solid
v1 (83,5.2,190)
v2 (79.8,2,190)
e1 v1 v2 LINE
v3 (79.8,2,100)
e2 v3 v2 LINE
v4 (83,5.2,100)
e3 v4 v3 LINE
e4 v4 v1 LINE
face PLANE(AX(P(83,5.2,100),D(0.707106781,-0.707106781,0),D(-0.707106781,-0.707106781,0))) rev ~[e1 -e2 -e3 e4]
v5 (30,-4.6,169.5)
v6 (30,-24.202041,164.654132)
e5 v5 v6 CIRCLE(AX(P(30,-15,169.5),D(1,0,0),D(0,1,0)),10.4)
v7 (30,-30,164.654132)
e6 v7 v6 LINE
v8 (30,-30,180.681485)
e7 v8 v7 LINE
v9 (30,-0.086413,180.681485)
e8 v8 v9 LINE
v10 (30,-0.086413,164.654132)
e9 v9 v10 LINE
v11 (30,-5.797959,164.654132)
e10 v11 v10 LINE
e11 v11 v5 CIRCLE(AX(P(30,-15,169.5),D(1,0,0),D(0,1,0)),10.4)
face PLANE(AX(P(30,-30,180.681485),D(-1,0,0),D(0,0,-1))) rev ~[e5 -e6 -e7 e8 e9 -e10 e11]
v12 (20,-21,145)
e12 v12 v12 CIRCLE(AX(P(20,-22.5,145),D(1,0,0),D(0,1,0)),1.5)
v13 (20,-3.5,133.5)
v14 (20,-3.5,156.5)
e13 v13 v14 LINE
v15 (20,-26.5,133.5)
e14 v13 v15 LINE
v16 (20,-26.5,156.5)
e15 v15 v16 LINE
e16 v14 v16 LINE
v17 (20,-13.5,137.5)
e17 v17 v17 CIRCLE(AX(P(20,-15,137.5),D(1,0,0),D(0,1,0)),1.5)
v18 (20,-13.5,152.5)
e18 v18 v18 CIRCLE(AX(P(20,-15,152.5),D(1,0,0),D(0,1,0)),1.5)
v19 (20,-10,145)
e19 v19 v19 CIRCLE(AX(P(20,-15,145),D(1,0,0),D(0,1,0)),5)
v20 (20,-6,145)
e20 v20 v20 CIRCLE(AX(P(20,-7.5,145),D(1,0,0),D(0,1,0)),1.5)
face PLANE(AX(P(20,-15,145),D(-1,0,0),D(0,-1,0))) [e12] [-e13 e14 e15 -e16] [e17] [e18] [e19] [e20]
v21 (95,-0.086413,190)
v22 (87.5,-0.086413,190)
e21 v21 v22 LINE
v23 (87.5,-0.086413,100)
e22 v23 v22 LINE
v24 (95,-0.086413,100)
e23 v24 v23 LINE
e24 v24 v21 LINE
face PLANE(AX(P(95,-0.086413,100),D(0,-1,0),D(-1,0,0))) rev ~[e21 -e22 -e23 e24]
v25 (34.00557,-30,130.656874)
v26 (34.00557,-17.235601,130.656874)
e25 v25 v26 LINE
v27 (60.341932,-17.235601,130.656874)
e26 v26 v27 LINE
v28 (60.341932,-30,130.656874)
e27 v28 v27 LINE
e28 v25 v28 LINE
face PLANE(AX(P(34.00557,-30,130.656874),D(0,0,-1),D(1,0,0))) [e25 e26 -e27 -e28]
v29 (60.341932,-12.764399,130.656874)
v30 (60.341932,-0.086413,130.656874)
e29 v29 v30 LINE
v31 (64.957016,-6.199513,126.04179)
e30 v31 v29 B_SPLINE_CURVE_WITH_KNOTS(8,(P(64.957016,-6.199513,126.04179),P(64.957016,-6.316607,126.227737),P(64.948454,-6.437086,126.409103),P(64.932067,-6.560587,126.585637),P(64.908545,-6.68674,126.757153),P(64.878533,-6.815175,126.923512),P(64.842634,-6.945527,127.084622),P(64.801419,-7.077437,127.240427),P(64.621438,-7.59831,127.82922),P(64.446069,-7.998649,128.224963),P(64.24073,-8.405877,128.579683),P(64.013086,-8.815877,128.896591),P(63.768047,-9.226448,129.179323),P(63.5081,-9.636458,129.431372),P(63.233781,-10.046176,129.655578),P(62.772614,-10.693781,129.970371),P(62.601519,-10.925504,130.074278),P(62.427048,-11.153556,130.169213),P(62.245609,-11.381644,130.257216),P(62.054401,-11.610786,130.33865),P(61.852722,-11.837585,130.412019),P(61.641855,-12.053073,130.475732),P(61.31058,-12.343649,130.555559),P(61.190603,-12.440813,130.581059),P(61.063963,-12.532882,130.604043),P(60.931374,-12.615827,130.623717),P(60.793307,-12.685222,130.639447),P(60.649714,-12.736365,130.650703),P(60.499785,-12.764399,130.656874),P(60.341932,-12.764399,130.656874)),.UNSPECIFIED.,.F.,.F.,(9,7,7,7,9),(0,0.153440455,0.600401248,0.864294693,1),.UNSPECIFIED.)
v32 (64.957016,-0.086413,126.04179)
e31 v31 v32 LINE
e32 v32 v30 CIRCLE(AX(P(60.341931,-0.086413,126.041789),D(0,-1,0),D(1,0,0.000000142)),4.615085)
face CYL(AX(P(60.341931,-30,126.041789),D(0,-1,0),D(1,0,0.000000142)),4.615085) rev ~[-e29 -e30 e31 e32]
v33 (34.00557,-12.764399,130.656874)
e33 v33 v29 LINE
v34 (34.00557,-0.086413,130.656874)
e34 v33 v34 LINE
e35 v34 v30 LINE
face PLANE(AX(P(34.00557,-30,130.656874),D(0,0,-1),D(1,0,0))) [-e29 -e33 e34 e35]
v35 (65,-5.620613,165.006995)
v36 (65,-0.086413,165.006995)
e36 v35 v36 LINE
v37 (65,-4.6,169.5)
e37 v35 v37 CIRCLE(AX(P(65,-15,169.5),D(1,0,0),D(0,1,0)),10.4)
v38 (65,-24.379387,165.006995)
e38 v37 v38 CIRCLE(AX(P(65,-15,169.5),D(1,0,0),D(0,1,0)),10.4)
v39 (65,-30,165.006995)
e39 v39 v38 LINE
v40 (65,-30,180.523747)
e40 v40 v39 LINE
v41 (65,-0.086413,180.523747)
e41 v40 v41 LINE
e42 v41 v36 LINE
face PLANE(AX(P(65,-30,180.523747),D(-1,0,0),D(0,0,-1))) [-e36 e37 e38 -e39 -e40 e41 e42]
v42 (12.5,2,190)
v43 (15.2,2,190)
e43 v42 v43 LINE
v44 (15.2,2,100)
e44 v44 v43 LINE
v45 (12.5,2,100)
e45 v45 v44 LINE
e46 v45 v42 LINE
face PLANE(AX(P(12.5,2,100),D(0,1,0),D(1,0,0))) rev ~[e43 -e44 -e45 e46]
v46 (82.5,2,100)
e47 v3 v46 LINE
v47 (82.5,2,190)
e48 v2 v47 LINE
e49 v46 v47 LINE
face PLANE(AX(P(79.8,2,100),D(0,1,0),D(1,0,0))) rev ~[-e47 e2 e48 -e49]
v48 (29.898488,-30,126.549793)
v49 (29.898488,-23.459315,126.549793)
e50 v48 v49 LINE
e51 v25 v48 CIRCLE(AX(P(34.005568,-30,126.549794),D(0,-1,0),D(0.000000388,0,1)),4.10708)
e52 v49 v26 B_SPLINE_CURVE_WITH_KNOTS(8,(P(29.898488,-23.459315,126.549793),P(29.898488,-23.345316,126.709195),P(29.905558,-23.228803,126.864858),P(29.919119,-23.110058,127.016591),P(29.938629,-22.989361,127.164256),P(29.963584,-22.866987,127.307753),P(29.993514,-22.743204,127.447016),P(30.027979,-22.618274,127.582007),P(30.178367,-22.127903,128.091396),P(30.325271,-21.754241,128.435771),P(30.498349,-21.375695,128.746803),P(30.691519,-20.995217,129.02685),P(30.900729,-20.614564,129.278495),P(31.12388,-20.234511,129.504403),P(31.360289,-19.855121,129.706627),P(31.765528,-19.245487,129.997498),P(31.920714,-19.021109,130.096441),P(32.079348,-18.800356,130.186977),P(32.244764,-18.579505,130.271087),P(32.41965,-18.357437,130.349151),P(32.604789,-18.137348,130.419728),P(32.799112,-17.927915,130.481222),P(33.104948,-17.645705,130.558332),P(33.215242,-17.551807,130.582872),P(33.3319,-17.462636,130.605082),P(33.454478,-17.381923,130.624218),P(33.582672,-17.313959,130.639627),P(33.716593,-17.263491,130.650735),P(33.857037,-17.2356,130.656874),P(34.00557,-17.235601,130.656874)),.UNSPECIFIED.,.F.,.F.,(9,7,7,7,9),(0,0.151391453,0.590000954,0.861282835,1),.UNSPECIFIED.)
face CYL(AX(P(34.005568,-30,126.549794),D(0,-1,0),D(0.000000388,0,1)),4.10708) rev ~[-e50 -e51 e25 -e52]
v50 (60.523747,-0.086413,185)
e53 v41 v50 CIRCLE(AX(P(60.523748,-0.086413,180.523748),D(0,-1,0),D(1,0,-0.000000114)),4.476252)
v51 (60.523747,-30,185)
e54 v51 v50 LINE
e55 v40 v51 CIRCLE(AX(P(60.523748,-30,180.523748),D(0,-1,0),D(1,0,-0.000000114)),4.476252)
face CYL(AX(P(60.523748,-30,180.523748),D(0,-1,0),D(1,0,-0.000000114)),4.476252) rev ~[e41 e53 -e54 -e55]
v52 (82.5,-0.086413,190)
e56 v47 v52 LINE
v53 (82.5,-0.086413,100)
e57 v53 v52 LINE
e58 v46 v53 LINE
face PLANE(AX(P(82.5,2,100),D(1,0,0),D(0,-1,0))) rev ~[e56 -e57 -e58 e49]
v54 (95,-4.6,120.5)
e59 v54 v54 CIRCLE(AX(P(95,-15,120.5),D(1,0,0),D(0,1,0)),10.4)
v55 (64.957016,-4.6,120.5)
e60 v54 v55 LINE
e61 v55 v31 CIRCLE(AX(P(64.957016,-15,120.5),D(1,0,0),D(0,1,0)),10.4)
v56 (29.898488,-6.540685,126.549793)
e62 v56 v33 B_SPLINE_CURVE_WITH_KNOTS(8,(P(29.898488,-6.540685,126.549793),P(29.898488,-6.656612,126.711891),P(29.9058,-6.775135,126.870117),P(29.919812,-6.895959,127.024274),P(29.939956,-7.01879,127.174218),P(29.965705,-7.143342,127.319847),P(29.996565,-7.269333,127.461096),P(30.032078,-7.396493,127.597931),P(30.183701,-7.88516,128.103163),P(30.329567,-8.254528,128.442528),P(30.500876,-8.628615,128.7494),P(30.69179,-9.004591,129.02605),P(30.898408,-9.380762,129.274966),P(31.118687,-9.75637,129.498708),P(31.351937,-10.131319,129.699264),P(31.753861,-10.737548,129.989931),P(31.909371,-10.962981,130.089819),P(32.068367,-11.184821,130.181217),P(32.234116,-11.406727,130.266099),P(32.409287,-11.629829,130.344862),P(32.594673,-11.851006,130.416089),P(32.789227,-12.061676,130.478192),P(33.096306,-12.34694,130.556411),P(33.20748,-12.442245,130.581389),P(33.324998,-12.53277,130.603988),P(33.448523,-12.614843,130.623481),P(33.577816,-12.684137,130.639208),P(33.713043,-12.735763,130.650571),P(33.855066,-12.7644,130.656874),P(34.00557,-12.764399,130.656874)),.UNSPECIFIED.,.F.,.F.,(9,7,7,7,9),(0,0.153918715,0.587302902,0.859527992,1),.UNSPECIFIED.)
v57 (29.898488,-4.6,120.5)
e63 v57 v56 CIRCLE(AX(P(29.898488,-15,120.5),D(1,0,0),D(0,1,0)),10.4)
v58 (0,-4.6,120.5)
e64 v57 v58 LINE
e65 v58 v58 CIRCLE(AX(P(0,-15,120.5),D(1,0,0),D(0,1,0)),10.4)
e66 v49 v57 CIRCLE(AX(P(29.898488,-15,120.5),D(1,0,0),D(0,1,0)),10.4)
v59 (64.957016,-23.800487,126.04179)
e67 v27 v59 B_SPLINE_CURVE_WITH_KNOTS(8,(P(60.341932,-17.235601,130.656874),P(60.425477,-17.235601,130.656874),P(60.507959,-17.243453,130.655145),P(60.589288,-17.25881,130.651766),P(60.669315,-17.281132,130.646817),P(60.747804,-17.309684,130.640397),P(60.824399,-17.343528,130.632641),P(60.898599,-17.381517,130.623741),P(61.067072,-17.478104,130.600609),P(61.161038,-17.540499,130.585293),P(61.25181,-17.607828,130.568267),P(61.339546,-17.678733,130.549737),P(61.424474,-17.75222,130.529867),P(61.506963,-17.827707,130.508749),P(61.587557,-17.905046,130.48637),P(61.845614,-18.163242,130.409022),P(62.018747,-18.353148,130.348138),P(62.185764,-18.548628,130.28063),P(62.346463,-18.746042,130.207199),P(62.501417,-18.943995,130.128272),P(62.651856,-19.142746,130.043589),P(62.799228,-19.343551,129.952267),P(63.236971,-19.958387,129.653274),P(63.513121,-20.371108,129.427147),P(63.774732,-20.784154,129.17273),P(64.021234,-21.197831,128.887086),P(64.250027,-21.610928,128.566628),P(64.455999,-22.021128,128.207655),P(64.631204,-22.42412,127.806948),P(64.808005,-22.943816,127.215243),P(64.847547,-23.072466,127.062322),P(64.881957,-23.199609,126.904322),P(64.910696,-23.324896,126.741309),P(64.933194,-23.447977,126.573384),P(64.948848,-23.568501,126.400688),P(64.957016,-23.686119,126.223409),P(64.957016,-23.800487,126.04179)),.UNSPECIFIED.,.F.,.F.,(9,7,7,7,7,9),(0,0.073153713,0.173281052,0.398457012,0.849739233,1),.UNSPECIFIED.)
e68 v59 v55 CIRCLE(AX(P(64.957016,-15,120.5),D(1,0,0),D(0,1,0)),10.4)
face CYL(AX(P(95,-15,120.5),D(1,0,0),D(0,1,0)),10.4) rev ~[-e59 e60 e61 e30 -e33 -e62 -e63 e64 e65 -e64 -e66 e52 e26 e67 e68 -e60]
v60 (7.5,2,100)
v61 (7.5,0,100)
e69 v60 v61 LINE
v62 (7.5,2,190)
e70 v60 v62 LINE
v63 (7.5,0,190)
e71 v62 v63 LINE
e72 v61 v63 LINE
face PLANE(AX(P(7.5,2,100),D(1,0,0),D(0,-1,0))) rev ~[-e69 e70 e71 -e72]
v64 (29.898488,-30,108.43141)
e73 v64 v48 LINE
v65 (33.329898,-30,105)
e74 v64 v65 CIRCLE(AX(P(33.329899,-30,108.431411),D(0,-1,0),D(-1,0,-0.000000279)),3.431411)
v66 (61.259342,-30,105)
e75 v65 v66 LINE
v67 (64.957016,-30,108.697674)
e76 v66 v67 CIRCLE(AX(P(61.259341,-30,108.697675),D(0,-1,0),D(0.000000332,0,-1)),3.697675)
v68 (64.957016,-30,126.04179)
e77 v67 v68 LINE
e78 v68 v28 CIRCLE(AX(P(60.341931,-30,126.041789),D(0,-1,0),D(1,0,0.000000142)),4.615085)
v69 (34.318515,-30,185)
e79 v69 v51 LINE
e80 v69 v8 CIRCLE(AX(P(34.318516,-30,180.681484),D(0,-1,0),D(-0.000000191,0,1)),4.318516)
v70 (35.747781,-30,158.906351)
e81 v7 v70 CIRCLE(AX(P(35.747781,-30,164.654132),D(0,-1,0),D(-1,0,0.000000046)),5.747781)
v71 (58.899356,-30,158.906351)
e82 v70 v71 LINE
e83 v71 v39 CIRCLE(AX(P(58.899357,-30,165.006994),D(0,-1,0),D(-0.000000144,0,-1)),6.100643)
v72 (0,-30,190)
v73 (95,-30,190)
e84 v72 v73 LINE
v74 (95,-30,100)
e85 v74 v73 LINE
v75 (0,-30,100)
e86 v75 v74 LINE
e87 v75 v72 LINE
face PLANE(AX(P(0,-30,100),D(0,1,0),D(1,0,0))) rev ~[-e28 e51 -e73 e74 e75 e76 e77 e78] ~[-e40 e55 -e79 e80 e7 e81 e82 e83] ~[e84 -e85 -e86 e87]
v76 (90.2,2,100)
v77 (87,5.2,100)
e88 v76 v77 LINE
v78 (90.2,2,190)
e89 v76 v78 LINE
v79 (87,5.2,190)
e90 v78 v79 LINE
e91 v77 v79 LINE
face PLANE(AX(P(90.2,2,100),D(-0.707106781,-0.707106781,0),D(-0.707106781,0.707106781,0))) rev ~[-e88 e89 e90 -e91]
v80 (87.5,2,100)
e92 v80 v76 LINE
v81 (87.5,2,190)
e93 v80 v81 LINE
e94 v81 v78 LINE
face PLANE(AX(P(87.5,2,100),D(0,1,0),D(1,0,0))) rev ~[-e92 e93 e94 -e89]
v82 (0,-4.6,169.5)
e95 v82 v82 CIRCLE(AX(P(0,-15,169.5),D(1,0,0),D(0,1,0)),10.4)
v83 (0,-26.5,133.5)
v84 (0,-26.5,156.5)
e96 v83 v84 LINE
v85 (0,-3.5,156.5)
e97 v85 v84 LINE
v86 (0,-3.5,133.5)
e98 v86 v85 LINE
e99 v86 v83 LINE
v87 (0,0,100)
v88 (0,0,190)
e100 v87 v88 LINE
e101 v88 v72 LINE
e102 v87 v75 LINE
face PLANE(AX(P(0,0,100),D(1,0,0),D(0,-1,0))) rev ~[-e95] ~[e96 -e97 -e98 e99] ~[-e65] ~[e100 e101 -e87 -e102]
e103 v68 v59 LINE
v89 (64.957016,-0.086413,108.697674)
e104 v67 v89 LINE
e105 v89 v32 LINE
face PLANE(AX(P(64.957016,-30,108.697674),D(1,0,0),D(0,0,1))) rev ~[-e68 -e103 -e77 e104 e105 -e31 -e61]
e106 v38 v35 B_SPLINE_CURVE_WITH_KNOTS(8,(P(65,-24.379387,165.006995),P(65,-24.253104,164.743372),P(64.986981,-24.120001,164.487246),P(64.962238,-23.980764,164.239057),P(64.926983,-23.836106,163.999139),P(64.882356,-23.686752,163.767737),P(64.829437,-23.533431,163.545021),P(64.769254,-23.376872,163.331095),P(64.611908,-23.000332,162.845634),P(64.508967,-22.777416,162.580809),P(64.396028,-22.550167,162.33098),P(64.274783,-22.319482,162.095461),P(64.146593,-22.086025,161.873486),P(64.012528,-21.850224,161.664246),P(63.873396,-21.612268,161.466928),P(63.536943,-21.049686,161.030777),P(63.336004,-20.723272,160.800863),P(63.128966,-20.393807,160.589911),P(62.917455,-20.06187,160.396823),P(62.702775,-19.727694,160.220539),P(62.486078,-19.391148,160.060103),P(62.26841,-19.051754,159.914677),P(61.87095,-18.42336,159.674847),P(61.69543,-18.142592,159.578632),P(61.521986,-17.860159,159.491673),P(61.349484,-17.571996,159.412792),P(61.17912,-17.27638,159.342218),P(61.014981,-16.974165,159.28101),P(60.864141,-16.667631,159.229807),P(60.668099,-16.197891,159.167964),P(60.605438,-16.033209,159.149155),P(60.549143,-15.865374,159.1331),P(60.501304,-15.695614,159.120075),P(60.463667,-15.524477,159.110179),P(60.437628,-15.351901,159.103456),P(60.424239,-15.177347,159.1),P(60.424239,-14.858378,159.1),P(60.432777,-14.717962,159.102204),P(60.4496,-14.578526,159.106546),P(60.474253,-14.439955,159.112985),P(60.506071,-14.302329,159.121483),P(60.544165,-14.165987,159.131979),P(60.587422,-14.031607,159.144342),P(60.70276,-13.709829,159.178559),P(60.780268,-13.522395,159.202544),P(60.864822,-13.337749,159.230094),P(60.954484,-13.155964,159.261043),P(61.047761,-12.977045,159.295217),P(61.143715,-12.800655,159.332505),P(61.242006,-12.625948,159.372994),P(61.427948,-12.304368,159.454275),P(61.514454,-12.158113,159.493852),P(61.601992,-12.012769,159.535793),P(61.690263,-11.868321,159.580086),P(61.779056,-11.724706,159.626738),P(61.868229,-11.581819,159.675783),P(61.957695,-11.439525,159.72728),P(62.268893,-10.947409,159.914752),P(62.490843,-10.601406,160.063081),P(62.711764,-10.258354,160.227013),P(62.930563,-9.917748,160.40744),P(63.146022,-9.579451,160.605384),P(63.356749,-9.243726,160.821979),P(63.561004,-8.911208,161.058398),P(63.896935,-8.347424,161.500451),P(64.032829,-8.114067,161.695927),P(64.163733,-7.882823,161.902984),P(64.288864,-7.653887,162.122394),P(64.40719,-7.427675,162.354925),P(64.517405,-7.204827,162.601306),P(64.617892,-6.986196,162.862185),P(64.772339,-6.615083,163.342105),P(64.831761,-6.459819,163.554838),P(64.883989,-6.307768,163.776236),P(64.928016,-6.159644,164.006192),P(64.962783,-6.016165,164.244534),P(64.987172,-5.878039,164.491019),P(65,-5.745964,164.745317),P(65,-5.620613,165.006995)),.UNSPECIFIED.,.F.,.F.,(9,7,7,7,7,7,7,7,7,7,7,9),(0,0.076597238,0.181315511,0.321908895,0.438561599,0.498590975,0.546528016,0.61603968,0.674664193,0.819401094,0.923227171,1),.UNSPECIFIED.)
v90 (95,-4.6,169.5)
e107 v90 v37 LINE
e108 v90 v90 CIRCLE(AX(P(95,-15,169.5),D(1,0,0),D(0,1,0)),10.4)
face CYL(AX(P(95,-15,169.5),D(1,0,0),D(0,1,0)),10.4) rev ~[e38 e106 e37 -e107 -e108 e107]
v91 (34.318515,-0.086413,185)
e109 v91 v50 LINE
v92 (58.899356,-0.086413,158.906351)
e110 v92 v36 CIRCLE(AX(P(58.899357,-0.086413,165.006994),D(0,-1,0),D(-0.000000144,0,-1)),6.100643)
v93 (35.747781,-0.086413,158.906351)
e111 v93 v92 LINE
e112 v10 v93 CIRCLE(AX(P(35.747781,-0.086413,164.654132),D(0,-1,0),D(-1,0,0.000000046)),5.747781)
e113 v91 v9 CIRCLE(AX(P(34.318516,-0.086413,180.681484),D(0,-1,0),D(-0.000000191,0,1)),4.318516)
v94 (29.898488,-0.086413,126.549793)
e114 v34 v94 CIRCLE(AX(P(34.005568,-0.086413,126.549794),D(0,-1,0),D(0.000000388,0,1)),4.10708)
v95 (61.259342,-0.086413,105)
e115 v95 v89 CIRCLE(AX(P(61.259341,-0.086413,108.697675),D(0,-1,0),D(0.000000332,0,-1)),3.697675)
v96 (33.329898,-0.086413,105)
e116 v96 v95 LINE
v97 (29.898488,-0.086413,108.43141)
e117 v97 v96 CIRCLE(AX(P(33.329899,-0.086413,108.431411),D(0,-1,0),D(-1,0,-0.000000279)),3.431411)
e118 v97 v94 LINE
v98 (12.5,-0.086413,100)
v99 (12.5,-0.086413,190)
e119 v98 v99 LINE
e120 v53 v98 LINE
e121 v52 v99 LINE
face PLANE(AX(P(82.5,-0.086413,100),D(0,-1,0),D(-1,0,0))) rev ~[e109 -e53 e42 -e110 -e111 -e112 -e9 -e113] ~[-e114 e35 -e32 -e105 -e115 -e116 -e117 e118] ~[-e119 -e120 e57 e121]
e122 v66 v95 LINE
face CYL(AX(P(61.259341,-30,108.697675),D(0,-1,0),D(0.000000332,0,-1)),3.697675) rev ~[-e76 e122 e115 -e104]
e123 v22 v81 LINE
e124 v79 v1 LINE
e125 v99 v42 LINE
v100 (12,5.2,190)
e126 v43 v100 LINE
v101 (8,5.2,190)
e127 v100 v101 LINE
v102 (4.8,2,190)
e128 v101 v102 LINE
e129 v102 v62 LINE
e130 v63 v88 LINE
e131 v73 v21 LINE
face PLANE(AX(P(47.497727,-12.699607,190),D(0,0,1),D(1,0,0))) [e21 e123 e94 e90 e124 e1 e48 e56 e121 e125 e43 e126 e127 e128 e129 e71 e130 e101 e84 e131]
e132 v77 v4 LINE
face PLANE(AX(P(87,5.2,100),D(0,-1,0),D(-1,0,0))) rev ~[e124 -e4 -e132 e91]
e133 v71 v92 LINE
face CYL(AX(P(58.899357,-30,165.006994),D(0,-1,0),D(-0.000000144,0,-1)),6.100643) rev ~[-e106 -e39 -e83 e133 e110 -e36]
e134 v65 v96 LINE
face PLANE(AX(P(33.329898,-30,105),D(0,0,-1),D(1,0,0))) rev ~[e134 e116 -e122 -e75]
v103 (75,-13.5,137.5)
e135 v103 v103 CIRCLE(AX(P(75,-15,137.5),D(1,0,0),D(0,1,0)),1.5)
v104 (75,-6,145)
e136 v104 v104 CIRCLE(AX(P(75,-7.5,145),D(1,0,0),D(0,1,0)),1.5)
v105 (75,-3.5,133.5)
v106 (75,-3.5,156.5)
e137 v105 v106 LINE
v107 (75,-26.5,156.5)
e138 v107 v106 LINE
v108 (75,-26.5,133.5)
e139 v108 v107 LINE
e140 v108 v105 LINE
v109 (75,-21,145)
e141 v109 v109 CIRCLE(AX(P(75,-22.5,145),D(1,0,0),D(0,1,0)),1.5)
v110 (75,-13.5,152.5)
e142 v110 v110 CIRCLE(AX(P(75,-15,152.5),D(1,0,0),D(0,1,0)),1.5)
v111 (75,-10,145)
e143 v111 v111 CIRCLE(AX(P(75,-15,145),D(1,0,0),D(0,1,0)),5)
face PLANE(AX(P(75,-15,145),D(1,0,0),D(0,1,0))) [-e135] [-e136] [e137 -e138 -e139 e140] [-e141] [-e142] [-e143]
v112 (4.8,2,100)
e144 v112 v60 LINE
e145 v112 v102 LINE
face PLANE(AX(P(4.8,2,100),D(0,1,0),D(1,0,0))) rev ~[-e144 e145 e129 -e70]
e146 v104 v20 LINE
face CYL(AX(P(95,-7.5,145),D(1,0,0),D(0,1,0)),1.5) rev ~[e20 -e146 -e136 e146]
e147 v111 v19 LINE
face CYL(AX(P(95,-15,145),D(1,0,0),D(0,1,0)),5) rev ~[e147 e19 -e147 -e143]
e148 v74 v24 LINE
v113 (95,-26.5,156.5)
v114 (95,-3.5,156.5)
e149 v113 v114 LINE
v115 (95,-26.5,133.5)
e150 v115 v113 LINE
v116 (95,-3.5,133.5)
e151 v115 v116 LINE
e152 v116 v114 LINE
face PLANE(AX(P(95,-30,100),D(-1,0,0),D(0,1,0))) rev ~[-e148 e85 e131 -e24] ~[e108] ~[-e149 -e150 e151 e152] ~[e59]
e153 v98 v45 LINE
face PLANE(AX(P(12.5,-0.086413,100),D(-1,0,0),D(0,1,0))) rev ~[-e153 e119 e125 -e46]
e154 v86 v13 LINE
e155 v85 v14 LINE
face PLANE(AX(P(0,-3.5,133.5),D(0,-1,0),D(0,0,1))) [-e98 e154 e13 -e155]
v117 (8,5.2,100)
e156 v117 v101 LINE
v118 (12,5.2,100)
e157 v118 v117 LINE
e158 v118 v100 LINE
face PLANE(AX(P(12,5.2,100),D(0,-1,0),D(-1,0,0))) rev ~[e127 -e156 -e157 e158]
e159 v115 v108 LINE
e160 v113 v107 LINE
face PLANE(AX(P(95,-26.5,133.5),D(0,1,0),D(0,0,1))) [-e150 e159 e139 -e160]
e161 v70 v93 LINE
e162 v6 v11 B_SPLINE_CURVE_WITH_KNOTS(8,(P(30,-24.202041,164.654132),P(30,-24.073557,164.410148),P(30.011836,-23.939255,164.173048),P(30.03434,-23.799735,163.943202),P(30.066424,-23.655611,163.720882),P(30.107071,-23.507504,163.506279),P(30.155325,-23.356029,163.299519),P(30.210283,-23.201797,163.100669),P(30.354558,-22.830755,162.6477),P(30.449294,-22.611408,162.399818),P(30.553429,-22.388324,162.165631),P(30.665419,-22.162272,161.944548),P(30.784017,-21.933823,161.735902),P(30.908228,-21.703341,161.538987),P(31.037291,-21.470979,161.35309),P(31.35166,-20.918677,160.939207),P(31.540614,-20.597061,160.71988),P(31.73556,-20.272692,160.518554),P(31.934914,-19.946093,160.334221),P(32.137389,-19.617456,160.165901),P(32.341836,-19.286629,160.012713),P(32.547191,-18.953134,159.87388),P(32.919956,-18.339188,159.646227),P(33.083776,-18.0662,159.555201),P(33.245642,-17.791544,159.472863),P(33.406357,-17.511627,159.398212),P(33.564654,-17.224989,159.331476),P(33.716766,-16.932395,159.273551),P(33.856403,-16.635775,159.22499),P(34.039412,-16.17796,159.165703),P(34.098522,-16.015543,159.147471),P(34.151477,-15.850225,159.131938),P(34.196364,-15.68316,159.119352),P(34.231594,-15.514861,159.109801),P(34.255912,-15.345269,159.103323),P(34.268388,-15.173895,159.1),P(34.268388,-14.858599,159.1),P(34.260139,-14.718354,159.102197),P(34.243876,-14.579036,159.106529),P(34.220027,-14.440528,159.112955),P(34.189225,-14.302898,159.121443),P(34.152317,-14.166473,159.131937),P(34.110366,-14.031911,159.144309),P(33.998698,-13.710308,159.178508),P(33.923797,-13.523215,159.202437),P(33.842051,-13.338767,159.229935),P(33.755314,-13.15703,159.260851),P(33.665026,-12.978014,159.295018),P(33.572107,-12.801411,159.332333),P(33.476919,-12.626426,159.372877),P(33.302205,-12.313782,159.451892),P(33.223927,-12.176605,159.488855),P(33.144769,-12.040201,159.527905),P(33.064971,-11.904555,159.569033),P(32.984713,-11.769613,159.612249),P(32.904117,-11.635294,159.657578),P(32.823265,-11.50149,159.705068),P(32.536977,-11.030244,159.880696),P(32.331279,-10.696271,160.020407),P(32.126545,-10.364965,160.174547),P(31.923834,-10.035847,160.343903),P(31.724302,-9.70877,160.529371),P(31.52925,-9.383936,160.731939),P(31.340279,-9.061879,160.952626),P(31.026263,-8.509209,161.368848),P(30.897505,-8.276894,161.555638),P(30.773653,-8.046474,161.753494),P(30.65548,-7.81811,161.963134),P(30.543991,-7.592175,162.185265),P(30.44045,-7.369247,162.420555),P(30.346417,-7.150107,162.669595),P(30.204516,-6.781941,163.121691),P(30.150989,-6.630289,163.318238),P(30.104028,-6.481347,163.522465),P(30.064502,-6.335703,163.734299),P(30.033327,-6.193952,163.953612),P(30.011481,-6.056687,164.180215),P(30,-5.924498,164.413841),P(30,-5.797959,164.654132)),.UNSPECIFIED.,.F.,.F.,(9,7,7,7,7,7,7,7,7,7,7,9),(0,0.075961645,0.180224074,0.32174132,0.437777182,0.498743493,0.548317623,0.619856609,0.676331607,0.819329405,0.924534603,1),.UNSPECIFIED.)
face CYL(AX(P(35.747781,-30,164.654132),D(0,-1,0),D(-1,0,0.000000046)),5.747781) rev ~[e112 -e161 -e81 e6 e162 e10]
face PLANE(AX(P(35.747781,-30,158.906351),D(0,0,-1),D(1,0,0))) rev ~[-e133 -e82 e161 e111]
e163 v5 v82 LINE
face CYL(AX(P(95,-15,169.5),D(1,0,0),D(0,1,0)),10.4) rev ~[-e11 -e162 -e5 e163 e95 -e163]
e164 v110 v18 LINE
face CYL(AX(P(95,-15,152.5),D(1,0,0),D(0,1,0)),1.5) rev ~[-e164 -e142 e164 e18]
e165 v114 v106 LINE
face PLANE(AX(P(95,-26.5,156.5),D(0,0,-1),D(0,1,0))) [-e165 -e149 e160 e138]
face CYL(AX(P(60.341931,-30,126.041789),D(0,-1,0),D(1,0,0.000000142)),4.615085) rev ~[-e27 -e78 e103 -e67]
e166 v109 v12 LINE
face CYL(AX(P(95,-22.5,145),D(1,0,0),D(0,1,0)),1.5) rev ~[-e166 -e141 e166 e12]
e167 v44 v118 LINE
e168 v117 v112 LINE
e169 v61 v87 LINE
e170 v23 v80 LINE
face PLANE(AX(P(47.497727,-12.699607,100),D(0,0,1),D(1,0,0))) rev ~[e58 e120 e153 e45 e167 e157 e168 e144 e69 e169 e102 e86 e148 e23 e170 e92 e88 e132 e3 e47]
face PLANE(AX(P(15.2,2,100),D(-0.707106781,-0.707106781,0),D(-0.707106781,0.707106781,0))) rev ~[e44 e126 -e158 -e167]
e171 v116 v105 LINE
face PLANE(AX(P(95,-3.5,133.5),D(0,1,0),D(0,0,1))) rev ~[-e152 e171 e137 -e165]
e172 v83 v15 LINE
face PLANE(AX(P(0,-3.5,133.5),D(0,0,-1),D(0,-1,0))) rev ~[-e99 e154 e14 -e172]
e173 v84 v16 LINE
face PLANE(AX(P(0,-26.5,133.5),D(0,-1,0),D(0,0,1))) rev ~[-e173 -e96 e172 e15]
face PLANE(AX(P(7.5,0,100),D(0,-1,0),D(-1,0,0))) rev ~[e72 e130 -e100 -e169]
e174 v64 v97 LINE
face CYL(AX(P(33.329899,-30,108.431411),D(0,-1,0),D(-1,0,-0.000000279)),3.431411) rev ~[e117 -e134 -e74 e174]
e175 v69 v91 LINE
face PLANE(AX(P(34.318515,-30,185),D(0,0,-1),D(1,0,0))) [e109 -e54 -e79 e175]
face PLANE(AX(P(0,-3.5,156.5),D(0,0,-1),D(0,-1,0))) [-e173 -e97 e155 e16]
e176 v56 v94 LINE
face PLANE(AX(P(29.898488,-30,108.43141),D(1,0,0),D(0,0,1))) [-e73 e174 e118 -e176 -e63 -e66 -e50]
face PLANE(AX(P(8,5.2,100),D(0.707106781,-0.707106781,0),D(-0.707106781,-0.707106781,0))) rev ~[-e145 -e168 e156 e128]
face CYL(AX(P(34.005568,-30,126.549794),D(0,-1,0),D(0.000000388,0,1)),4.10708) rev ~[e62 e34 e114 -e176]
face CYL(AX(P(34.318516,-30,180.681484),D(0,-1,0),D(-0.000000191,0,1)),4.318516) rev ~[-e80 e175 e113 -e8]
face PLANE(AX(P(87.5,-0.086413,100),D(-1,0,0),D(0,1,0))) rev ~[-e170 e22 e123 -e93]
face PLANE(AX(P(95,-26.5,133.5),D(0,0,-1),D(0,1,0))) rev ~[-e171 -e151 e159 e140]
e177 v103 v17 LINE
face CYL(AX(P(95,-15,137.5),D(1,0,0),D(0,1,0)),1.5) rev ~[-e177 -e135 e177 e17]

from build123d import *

# Parameters (mm, degrees)
PAD_DEPTH       = 90
SKETCH_R        = 5
SKETCH_R_2      = 1.5
SKETCH_R_3      = 10.4
POCKET_DEPTH    = 95
POCKET001_DEPTH = 32
SKETCH005_W     = 23
SKETCH005_H     = 23
POCKET002_DEPTH = 20
SKETCH006_W     = 23
SKETCH006_H     = 23
POCKET003_DEPTH = 20


with BuildPart() as part:
    # Sketch003 → Pad (new body)
    with BuildSketch(Plane.XY.offset(100)):
        Polygon((7.5, 0), (0, 0), (0, -30), (95, -30), (95, -0.086413), (87.5, -0.086413), (87.5, 2), (90.2, 2), (87, 5.2), (83, 5.2), (79.8, 2), (82.5, 2), (82.5, -0.086413), (12.5, -0.086413), (12.5, 2), (15.2, 2), (12, 5.2), (8, 5.2), (4.8, 2), (7.5, 2), align=None)
    extrude(amount=PAD_DEPTH)

    # Sketch (on Face4 of Pad) → Pocket (cut)
    with BuildSketch(Plane(origin=(95, 0, 100), x_dir=(0, 1, 0), z_dir=(1, 0, 0))):
        with Locations((-15, 45)):
            Circle(SKETCH_R)
        with Locations((-15, 52.5)):
            Circle(SKETCH_R_2)
        with Locations((-22.5, 45)):
            Circle(SKETCH_R_2)
        with Locations((-15, 37.5)):
            Circle(SKETCH_R_2)
        with Locations((-7.5, 45)):
            Circle(SKETCH_R_2)
        with Locations((-15, 20.5)):
            Circle(SKETCH_R_3)
        with Locations((-15, 69.5)):
            Circle(SKETCH_R_3)
    extrude(amount=-POCKET_DEPTH, mode=Mode.SUBTRACT)

    # Sketch004 (on Face7 of Pocket) → Pocket001 (cut)
    with BuildSketch(Plane(origin=(0, -30, 100), x_dir=(1, 0, 0), z_dir=(0, -1, 0))):
        with BuildLine():
            Line((30, 80.681485), (30, 64.654132))
            ThreePointArc((30, 64.654132), (31.683486, 60.589837), (35.747781, 58.906351))
            Line((35.747781, 58.906351), (58.899356, 58.906351))
            ThreePointArc((58.899356, 58.906351), (63.213163, 60.693188), (65, 65.006995))
            Line((65, 80.523747), (65, 65.006995))
            ThreePointArc((65, 80.523747), (63.688936, 83.688936), (60.523747, 85))
            Line((34.318515, 85), (60.523747, 85))
            ThreePointArc((34.318515, 85), (31.264864, 83.735136), (30, 80.681485))
        make_face()
        with BuildLine():
            Line((34.00557, 30.656874), (60.341932, 30.656874))
            ThreePointArc((64.957016, 26.04179), (63.605289, 29.305147), (60.341932, 30.656874))
            Line((64.957016, 8.697674), (64.957016, 26.04179))
            ThreePointArc((61.259342, 5), (63.873992, 6.083024), (64.957016, 8.697674))
            Line((33.329898, 5), (61.259342, 5))
            ThreePointArc((29.898488, 8.43141), (30.903525, 6.005037), (33.329898, 5))
            Line((29.898488, 8.43141), (29.898488, 26.549793))
            ThreePointArc((34.00557, 30.656874), (31.101424, 29.453938), (29.898488, 26.549793))
        make_face()
    extrude(amount=-POCKET001_DEPTH, mode=Mode.SUBTRACT)

    # Sketch005 (on Face3 of Pocket001) → Pocket002 (cut)
    with BuildSketch(Plane(origin=(0, 0, 100), x_dir=(0, -1, 0), z_dir=(-1, 0, 0))):
        with Locations((15, 45)):
            Rectangle(SKETCH005_W, SKETCH005_H)
    extrude(amount=-POCKET002_DEPTH, mode=Mode.SUBTRACT)

    # Sketch006 (on Face14 of Pocket002) → Pocket003 (cut)
    with BuildSketch(Plane(origin=(95, 0, 100), x_dir=(0, 1, 0), z_dir=(1, 0, 0))):
        with Locations((-15, 45)):
            Rectangle(SKETCH006_W, SKETCH006_H)
    extrude(amount=-POCKET003_DEPTH, mode=Mode.SUBTRACT)


solid = part.part
